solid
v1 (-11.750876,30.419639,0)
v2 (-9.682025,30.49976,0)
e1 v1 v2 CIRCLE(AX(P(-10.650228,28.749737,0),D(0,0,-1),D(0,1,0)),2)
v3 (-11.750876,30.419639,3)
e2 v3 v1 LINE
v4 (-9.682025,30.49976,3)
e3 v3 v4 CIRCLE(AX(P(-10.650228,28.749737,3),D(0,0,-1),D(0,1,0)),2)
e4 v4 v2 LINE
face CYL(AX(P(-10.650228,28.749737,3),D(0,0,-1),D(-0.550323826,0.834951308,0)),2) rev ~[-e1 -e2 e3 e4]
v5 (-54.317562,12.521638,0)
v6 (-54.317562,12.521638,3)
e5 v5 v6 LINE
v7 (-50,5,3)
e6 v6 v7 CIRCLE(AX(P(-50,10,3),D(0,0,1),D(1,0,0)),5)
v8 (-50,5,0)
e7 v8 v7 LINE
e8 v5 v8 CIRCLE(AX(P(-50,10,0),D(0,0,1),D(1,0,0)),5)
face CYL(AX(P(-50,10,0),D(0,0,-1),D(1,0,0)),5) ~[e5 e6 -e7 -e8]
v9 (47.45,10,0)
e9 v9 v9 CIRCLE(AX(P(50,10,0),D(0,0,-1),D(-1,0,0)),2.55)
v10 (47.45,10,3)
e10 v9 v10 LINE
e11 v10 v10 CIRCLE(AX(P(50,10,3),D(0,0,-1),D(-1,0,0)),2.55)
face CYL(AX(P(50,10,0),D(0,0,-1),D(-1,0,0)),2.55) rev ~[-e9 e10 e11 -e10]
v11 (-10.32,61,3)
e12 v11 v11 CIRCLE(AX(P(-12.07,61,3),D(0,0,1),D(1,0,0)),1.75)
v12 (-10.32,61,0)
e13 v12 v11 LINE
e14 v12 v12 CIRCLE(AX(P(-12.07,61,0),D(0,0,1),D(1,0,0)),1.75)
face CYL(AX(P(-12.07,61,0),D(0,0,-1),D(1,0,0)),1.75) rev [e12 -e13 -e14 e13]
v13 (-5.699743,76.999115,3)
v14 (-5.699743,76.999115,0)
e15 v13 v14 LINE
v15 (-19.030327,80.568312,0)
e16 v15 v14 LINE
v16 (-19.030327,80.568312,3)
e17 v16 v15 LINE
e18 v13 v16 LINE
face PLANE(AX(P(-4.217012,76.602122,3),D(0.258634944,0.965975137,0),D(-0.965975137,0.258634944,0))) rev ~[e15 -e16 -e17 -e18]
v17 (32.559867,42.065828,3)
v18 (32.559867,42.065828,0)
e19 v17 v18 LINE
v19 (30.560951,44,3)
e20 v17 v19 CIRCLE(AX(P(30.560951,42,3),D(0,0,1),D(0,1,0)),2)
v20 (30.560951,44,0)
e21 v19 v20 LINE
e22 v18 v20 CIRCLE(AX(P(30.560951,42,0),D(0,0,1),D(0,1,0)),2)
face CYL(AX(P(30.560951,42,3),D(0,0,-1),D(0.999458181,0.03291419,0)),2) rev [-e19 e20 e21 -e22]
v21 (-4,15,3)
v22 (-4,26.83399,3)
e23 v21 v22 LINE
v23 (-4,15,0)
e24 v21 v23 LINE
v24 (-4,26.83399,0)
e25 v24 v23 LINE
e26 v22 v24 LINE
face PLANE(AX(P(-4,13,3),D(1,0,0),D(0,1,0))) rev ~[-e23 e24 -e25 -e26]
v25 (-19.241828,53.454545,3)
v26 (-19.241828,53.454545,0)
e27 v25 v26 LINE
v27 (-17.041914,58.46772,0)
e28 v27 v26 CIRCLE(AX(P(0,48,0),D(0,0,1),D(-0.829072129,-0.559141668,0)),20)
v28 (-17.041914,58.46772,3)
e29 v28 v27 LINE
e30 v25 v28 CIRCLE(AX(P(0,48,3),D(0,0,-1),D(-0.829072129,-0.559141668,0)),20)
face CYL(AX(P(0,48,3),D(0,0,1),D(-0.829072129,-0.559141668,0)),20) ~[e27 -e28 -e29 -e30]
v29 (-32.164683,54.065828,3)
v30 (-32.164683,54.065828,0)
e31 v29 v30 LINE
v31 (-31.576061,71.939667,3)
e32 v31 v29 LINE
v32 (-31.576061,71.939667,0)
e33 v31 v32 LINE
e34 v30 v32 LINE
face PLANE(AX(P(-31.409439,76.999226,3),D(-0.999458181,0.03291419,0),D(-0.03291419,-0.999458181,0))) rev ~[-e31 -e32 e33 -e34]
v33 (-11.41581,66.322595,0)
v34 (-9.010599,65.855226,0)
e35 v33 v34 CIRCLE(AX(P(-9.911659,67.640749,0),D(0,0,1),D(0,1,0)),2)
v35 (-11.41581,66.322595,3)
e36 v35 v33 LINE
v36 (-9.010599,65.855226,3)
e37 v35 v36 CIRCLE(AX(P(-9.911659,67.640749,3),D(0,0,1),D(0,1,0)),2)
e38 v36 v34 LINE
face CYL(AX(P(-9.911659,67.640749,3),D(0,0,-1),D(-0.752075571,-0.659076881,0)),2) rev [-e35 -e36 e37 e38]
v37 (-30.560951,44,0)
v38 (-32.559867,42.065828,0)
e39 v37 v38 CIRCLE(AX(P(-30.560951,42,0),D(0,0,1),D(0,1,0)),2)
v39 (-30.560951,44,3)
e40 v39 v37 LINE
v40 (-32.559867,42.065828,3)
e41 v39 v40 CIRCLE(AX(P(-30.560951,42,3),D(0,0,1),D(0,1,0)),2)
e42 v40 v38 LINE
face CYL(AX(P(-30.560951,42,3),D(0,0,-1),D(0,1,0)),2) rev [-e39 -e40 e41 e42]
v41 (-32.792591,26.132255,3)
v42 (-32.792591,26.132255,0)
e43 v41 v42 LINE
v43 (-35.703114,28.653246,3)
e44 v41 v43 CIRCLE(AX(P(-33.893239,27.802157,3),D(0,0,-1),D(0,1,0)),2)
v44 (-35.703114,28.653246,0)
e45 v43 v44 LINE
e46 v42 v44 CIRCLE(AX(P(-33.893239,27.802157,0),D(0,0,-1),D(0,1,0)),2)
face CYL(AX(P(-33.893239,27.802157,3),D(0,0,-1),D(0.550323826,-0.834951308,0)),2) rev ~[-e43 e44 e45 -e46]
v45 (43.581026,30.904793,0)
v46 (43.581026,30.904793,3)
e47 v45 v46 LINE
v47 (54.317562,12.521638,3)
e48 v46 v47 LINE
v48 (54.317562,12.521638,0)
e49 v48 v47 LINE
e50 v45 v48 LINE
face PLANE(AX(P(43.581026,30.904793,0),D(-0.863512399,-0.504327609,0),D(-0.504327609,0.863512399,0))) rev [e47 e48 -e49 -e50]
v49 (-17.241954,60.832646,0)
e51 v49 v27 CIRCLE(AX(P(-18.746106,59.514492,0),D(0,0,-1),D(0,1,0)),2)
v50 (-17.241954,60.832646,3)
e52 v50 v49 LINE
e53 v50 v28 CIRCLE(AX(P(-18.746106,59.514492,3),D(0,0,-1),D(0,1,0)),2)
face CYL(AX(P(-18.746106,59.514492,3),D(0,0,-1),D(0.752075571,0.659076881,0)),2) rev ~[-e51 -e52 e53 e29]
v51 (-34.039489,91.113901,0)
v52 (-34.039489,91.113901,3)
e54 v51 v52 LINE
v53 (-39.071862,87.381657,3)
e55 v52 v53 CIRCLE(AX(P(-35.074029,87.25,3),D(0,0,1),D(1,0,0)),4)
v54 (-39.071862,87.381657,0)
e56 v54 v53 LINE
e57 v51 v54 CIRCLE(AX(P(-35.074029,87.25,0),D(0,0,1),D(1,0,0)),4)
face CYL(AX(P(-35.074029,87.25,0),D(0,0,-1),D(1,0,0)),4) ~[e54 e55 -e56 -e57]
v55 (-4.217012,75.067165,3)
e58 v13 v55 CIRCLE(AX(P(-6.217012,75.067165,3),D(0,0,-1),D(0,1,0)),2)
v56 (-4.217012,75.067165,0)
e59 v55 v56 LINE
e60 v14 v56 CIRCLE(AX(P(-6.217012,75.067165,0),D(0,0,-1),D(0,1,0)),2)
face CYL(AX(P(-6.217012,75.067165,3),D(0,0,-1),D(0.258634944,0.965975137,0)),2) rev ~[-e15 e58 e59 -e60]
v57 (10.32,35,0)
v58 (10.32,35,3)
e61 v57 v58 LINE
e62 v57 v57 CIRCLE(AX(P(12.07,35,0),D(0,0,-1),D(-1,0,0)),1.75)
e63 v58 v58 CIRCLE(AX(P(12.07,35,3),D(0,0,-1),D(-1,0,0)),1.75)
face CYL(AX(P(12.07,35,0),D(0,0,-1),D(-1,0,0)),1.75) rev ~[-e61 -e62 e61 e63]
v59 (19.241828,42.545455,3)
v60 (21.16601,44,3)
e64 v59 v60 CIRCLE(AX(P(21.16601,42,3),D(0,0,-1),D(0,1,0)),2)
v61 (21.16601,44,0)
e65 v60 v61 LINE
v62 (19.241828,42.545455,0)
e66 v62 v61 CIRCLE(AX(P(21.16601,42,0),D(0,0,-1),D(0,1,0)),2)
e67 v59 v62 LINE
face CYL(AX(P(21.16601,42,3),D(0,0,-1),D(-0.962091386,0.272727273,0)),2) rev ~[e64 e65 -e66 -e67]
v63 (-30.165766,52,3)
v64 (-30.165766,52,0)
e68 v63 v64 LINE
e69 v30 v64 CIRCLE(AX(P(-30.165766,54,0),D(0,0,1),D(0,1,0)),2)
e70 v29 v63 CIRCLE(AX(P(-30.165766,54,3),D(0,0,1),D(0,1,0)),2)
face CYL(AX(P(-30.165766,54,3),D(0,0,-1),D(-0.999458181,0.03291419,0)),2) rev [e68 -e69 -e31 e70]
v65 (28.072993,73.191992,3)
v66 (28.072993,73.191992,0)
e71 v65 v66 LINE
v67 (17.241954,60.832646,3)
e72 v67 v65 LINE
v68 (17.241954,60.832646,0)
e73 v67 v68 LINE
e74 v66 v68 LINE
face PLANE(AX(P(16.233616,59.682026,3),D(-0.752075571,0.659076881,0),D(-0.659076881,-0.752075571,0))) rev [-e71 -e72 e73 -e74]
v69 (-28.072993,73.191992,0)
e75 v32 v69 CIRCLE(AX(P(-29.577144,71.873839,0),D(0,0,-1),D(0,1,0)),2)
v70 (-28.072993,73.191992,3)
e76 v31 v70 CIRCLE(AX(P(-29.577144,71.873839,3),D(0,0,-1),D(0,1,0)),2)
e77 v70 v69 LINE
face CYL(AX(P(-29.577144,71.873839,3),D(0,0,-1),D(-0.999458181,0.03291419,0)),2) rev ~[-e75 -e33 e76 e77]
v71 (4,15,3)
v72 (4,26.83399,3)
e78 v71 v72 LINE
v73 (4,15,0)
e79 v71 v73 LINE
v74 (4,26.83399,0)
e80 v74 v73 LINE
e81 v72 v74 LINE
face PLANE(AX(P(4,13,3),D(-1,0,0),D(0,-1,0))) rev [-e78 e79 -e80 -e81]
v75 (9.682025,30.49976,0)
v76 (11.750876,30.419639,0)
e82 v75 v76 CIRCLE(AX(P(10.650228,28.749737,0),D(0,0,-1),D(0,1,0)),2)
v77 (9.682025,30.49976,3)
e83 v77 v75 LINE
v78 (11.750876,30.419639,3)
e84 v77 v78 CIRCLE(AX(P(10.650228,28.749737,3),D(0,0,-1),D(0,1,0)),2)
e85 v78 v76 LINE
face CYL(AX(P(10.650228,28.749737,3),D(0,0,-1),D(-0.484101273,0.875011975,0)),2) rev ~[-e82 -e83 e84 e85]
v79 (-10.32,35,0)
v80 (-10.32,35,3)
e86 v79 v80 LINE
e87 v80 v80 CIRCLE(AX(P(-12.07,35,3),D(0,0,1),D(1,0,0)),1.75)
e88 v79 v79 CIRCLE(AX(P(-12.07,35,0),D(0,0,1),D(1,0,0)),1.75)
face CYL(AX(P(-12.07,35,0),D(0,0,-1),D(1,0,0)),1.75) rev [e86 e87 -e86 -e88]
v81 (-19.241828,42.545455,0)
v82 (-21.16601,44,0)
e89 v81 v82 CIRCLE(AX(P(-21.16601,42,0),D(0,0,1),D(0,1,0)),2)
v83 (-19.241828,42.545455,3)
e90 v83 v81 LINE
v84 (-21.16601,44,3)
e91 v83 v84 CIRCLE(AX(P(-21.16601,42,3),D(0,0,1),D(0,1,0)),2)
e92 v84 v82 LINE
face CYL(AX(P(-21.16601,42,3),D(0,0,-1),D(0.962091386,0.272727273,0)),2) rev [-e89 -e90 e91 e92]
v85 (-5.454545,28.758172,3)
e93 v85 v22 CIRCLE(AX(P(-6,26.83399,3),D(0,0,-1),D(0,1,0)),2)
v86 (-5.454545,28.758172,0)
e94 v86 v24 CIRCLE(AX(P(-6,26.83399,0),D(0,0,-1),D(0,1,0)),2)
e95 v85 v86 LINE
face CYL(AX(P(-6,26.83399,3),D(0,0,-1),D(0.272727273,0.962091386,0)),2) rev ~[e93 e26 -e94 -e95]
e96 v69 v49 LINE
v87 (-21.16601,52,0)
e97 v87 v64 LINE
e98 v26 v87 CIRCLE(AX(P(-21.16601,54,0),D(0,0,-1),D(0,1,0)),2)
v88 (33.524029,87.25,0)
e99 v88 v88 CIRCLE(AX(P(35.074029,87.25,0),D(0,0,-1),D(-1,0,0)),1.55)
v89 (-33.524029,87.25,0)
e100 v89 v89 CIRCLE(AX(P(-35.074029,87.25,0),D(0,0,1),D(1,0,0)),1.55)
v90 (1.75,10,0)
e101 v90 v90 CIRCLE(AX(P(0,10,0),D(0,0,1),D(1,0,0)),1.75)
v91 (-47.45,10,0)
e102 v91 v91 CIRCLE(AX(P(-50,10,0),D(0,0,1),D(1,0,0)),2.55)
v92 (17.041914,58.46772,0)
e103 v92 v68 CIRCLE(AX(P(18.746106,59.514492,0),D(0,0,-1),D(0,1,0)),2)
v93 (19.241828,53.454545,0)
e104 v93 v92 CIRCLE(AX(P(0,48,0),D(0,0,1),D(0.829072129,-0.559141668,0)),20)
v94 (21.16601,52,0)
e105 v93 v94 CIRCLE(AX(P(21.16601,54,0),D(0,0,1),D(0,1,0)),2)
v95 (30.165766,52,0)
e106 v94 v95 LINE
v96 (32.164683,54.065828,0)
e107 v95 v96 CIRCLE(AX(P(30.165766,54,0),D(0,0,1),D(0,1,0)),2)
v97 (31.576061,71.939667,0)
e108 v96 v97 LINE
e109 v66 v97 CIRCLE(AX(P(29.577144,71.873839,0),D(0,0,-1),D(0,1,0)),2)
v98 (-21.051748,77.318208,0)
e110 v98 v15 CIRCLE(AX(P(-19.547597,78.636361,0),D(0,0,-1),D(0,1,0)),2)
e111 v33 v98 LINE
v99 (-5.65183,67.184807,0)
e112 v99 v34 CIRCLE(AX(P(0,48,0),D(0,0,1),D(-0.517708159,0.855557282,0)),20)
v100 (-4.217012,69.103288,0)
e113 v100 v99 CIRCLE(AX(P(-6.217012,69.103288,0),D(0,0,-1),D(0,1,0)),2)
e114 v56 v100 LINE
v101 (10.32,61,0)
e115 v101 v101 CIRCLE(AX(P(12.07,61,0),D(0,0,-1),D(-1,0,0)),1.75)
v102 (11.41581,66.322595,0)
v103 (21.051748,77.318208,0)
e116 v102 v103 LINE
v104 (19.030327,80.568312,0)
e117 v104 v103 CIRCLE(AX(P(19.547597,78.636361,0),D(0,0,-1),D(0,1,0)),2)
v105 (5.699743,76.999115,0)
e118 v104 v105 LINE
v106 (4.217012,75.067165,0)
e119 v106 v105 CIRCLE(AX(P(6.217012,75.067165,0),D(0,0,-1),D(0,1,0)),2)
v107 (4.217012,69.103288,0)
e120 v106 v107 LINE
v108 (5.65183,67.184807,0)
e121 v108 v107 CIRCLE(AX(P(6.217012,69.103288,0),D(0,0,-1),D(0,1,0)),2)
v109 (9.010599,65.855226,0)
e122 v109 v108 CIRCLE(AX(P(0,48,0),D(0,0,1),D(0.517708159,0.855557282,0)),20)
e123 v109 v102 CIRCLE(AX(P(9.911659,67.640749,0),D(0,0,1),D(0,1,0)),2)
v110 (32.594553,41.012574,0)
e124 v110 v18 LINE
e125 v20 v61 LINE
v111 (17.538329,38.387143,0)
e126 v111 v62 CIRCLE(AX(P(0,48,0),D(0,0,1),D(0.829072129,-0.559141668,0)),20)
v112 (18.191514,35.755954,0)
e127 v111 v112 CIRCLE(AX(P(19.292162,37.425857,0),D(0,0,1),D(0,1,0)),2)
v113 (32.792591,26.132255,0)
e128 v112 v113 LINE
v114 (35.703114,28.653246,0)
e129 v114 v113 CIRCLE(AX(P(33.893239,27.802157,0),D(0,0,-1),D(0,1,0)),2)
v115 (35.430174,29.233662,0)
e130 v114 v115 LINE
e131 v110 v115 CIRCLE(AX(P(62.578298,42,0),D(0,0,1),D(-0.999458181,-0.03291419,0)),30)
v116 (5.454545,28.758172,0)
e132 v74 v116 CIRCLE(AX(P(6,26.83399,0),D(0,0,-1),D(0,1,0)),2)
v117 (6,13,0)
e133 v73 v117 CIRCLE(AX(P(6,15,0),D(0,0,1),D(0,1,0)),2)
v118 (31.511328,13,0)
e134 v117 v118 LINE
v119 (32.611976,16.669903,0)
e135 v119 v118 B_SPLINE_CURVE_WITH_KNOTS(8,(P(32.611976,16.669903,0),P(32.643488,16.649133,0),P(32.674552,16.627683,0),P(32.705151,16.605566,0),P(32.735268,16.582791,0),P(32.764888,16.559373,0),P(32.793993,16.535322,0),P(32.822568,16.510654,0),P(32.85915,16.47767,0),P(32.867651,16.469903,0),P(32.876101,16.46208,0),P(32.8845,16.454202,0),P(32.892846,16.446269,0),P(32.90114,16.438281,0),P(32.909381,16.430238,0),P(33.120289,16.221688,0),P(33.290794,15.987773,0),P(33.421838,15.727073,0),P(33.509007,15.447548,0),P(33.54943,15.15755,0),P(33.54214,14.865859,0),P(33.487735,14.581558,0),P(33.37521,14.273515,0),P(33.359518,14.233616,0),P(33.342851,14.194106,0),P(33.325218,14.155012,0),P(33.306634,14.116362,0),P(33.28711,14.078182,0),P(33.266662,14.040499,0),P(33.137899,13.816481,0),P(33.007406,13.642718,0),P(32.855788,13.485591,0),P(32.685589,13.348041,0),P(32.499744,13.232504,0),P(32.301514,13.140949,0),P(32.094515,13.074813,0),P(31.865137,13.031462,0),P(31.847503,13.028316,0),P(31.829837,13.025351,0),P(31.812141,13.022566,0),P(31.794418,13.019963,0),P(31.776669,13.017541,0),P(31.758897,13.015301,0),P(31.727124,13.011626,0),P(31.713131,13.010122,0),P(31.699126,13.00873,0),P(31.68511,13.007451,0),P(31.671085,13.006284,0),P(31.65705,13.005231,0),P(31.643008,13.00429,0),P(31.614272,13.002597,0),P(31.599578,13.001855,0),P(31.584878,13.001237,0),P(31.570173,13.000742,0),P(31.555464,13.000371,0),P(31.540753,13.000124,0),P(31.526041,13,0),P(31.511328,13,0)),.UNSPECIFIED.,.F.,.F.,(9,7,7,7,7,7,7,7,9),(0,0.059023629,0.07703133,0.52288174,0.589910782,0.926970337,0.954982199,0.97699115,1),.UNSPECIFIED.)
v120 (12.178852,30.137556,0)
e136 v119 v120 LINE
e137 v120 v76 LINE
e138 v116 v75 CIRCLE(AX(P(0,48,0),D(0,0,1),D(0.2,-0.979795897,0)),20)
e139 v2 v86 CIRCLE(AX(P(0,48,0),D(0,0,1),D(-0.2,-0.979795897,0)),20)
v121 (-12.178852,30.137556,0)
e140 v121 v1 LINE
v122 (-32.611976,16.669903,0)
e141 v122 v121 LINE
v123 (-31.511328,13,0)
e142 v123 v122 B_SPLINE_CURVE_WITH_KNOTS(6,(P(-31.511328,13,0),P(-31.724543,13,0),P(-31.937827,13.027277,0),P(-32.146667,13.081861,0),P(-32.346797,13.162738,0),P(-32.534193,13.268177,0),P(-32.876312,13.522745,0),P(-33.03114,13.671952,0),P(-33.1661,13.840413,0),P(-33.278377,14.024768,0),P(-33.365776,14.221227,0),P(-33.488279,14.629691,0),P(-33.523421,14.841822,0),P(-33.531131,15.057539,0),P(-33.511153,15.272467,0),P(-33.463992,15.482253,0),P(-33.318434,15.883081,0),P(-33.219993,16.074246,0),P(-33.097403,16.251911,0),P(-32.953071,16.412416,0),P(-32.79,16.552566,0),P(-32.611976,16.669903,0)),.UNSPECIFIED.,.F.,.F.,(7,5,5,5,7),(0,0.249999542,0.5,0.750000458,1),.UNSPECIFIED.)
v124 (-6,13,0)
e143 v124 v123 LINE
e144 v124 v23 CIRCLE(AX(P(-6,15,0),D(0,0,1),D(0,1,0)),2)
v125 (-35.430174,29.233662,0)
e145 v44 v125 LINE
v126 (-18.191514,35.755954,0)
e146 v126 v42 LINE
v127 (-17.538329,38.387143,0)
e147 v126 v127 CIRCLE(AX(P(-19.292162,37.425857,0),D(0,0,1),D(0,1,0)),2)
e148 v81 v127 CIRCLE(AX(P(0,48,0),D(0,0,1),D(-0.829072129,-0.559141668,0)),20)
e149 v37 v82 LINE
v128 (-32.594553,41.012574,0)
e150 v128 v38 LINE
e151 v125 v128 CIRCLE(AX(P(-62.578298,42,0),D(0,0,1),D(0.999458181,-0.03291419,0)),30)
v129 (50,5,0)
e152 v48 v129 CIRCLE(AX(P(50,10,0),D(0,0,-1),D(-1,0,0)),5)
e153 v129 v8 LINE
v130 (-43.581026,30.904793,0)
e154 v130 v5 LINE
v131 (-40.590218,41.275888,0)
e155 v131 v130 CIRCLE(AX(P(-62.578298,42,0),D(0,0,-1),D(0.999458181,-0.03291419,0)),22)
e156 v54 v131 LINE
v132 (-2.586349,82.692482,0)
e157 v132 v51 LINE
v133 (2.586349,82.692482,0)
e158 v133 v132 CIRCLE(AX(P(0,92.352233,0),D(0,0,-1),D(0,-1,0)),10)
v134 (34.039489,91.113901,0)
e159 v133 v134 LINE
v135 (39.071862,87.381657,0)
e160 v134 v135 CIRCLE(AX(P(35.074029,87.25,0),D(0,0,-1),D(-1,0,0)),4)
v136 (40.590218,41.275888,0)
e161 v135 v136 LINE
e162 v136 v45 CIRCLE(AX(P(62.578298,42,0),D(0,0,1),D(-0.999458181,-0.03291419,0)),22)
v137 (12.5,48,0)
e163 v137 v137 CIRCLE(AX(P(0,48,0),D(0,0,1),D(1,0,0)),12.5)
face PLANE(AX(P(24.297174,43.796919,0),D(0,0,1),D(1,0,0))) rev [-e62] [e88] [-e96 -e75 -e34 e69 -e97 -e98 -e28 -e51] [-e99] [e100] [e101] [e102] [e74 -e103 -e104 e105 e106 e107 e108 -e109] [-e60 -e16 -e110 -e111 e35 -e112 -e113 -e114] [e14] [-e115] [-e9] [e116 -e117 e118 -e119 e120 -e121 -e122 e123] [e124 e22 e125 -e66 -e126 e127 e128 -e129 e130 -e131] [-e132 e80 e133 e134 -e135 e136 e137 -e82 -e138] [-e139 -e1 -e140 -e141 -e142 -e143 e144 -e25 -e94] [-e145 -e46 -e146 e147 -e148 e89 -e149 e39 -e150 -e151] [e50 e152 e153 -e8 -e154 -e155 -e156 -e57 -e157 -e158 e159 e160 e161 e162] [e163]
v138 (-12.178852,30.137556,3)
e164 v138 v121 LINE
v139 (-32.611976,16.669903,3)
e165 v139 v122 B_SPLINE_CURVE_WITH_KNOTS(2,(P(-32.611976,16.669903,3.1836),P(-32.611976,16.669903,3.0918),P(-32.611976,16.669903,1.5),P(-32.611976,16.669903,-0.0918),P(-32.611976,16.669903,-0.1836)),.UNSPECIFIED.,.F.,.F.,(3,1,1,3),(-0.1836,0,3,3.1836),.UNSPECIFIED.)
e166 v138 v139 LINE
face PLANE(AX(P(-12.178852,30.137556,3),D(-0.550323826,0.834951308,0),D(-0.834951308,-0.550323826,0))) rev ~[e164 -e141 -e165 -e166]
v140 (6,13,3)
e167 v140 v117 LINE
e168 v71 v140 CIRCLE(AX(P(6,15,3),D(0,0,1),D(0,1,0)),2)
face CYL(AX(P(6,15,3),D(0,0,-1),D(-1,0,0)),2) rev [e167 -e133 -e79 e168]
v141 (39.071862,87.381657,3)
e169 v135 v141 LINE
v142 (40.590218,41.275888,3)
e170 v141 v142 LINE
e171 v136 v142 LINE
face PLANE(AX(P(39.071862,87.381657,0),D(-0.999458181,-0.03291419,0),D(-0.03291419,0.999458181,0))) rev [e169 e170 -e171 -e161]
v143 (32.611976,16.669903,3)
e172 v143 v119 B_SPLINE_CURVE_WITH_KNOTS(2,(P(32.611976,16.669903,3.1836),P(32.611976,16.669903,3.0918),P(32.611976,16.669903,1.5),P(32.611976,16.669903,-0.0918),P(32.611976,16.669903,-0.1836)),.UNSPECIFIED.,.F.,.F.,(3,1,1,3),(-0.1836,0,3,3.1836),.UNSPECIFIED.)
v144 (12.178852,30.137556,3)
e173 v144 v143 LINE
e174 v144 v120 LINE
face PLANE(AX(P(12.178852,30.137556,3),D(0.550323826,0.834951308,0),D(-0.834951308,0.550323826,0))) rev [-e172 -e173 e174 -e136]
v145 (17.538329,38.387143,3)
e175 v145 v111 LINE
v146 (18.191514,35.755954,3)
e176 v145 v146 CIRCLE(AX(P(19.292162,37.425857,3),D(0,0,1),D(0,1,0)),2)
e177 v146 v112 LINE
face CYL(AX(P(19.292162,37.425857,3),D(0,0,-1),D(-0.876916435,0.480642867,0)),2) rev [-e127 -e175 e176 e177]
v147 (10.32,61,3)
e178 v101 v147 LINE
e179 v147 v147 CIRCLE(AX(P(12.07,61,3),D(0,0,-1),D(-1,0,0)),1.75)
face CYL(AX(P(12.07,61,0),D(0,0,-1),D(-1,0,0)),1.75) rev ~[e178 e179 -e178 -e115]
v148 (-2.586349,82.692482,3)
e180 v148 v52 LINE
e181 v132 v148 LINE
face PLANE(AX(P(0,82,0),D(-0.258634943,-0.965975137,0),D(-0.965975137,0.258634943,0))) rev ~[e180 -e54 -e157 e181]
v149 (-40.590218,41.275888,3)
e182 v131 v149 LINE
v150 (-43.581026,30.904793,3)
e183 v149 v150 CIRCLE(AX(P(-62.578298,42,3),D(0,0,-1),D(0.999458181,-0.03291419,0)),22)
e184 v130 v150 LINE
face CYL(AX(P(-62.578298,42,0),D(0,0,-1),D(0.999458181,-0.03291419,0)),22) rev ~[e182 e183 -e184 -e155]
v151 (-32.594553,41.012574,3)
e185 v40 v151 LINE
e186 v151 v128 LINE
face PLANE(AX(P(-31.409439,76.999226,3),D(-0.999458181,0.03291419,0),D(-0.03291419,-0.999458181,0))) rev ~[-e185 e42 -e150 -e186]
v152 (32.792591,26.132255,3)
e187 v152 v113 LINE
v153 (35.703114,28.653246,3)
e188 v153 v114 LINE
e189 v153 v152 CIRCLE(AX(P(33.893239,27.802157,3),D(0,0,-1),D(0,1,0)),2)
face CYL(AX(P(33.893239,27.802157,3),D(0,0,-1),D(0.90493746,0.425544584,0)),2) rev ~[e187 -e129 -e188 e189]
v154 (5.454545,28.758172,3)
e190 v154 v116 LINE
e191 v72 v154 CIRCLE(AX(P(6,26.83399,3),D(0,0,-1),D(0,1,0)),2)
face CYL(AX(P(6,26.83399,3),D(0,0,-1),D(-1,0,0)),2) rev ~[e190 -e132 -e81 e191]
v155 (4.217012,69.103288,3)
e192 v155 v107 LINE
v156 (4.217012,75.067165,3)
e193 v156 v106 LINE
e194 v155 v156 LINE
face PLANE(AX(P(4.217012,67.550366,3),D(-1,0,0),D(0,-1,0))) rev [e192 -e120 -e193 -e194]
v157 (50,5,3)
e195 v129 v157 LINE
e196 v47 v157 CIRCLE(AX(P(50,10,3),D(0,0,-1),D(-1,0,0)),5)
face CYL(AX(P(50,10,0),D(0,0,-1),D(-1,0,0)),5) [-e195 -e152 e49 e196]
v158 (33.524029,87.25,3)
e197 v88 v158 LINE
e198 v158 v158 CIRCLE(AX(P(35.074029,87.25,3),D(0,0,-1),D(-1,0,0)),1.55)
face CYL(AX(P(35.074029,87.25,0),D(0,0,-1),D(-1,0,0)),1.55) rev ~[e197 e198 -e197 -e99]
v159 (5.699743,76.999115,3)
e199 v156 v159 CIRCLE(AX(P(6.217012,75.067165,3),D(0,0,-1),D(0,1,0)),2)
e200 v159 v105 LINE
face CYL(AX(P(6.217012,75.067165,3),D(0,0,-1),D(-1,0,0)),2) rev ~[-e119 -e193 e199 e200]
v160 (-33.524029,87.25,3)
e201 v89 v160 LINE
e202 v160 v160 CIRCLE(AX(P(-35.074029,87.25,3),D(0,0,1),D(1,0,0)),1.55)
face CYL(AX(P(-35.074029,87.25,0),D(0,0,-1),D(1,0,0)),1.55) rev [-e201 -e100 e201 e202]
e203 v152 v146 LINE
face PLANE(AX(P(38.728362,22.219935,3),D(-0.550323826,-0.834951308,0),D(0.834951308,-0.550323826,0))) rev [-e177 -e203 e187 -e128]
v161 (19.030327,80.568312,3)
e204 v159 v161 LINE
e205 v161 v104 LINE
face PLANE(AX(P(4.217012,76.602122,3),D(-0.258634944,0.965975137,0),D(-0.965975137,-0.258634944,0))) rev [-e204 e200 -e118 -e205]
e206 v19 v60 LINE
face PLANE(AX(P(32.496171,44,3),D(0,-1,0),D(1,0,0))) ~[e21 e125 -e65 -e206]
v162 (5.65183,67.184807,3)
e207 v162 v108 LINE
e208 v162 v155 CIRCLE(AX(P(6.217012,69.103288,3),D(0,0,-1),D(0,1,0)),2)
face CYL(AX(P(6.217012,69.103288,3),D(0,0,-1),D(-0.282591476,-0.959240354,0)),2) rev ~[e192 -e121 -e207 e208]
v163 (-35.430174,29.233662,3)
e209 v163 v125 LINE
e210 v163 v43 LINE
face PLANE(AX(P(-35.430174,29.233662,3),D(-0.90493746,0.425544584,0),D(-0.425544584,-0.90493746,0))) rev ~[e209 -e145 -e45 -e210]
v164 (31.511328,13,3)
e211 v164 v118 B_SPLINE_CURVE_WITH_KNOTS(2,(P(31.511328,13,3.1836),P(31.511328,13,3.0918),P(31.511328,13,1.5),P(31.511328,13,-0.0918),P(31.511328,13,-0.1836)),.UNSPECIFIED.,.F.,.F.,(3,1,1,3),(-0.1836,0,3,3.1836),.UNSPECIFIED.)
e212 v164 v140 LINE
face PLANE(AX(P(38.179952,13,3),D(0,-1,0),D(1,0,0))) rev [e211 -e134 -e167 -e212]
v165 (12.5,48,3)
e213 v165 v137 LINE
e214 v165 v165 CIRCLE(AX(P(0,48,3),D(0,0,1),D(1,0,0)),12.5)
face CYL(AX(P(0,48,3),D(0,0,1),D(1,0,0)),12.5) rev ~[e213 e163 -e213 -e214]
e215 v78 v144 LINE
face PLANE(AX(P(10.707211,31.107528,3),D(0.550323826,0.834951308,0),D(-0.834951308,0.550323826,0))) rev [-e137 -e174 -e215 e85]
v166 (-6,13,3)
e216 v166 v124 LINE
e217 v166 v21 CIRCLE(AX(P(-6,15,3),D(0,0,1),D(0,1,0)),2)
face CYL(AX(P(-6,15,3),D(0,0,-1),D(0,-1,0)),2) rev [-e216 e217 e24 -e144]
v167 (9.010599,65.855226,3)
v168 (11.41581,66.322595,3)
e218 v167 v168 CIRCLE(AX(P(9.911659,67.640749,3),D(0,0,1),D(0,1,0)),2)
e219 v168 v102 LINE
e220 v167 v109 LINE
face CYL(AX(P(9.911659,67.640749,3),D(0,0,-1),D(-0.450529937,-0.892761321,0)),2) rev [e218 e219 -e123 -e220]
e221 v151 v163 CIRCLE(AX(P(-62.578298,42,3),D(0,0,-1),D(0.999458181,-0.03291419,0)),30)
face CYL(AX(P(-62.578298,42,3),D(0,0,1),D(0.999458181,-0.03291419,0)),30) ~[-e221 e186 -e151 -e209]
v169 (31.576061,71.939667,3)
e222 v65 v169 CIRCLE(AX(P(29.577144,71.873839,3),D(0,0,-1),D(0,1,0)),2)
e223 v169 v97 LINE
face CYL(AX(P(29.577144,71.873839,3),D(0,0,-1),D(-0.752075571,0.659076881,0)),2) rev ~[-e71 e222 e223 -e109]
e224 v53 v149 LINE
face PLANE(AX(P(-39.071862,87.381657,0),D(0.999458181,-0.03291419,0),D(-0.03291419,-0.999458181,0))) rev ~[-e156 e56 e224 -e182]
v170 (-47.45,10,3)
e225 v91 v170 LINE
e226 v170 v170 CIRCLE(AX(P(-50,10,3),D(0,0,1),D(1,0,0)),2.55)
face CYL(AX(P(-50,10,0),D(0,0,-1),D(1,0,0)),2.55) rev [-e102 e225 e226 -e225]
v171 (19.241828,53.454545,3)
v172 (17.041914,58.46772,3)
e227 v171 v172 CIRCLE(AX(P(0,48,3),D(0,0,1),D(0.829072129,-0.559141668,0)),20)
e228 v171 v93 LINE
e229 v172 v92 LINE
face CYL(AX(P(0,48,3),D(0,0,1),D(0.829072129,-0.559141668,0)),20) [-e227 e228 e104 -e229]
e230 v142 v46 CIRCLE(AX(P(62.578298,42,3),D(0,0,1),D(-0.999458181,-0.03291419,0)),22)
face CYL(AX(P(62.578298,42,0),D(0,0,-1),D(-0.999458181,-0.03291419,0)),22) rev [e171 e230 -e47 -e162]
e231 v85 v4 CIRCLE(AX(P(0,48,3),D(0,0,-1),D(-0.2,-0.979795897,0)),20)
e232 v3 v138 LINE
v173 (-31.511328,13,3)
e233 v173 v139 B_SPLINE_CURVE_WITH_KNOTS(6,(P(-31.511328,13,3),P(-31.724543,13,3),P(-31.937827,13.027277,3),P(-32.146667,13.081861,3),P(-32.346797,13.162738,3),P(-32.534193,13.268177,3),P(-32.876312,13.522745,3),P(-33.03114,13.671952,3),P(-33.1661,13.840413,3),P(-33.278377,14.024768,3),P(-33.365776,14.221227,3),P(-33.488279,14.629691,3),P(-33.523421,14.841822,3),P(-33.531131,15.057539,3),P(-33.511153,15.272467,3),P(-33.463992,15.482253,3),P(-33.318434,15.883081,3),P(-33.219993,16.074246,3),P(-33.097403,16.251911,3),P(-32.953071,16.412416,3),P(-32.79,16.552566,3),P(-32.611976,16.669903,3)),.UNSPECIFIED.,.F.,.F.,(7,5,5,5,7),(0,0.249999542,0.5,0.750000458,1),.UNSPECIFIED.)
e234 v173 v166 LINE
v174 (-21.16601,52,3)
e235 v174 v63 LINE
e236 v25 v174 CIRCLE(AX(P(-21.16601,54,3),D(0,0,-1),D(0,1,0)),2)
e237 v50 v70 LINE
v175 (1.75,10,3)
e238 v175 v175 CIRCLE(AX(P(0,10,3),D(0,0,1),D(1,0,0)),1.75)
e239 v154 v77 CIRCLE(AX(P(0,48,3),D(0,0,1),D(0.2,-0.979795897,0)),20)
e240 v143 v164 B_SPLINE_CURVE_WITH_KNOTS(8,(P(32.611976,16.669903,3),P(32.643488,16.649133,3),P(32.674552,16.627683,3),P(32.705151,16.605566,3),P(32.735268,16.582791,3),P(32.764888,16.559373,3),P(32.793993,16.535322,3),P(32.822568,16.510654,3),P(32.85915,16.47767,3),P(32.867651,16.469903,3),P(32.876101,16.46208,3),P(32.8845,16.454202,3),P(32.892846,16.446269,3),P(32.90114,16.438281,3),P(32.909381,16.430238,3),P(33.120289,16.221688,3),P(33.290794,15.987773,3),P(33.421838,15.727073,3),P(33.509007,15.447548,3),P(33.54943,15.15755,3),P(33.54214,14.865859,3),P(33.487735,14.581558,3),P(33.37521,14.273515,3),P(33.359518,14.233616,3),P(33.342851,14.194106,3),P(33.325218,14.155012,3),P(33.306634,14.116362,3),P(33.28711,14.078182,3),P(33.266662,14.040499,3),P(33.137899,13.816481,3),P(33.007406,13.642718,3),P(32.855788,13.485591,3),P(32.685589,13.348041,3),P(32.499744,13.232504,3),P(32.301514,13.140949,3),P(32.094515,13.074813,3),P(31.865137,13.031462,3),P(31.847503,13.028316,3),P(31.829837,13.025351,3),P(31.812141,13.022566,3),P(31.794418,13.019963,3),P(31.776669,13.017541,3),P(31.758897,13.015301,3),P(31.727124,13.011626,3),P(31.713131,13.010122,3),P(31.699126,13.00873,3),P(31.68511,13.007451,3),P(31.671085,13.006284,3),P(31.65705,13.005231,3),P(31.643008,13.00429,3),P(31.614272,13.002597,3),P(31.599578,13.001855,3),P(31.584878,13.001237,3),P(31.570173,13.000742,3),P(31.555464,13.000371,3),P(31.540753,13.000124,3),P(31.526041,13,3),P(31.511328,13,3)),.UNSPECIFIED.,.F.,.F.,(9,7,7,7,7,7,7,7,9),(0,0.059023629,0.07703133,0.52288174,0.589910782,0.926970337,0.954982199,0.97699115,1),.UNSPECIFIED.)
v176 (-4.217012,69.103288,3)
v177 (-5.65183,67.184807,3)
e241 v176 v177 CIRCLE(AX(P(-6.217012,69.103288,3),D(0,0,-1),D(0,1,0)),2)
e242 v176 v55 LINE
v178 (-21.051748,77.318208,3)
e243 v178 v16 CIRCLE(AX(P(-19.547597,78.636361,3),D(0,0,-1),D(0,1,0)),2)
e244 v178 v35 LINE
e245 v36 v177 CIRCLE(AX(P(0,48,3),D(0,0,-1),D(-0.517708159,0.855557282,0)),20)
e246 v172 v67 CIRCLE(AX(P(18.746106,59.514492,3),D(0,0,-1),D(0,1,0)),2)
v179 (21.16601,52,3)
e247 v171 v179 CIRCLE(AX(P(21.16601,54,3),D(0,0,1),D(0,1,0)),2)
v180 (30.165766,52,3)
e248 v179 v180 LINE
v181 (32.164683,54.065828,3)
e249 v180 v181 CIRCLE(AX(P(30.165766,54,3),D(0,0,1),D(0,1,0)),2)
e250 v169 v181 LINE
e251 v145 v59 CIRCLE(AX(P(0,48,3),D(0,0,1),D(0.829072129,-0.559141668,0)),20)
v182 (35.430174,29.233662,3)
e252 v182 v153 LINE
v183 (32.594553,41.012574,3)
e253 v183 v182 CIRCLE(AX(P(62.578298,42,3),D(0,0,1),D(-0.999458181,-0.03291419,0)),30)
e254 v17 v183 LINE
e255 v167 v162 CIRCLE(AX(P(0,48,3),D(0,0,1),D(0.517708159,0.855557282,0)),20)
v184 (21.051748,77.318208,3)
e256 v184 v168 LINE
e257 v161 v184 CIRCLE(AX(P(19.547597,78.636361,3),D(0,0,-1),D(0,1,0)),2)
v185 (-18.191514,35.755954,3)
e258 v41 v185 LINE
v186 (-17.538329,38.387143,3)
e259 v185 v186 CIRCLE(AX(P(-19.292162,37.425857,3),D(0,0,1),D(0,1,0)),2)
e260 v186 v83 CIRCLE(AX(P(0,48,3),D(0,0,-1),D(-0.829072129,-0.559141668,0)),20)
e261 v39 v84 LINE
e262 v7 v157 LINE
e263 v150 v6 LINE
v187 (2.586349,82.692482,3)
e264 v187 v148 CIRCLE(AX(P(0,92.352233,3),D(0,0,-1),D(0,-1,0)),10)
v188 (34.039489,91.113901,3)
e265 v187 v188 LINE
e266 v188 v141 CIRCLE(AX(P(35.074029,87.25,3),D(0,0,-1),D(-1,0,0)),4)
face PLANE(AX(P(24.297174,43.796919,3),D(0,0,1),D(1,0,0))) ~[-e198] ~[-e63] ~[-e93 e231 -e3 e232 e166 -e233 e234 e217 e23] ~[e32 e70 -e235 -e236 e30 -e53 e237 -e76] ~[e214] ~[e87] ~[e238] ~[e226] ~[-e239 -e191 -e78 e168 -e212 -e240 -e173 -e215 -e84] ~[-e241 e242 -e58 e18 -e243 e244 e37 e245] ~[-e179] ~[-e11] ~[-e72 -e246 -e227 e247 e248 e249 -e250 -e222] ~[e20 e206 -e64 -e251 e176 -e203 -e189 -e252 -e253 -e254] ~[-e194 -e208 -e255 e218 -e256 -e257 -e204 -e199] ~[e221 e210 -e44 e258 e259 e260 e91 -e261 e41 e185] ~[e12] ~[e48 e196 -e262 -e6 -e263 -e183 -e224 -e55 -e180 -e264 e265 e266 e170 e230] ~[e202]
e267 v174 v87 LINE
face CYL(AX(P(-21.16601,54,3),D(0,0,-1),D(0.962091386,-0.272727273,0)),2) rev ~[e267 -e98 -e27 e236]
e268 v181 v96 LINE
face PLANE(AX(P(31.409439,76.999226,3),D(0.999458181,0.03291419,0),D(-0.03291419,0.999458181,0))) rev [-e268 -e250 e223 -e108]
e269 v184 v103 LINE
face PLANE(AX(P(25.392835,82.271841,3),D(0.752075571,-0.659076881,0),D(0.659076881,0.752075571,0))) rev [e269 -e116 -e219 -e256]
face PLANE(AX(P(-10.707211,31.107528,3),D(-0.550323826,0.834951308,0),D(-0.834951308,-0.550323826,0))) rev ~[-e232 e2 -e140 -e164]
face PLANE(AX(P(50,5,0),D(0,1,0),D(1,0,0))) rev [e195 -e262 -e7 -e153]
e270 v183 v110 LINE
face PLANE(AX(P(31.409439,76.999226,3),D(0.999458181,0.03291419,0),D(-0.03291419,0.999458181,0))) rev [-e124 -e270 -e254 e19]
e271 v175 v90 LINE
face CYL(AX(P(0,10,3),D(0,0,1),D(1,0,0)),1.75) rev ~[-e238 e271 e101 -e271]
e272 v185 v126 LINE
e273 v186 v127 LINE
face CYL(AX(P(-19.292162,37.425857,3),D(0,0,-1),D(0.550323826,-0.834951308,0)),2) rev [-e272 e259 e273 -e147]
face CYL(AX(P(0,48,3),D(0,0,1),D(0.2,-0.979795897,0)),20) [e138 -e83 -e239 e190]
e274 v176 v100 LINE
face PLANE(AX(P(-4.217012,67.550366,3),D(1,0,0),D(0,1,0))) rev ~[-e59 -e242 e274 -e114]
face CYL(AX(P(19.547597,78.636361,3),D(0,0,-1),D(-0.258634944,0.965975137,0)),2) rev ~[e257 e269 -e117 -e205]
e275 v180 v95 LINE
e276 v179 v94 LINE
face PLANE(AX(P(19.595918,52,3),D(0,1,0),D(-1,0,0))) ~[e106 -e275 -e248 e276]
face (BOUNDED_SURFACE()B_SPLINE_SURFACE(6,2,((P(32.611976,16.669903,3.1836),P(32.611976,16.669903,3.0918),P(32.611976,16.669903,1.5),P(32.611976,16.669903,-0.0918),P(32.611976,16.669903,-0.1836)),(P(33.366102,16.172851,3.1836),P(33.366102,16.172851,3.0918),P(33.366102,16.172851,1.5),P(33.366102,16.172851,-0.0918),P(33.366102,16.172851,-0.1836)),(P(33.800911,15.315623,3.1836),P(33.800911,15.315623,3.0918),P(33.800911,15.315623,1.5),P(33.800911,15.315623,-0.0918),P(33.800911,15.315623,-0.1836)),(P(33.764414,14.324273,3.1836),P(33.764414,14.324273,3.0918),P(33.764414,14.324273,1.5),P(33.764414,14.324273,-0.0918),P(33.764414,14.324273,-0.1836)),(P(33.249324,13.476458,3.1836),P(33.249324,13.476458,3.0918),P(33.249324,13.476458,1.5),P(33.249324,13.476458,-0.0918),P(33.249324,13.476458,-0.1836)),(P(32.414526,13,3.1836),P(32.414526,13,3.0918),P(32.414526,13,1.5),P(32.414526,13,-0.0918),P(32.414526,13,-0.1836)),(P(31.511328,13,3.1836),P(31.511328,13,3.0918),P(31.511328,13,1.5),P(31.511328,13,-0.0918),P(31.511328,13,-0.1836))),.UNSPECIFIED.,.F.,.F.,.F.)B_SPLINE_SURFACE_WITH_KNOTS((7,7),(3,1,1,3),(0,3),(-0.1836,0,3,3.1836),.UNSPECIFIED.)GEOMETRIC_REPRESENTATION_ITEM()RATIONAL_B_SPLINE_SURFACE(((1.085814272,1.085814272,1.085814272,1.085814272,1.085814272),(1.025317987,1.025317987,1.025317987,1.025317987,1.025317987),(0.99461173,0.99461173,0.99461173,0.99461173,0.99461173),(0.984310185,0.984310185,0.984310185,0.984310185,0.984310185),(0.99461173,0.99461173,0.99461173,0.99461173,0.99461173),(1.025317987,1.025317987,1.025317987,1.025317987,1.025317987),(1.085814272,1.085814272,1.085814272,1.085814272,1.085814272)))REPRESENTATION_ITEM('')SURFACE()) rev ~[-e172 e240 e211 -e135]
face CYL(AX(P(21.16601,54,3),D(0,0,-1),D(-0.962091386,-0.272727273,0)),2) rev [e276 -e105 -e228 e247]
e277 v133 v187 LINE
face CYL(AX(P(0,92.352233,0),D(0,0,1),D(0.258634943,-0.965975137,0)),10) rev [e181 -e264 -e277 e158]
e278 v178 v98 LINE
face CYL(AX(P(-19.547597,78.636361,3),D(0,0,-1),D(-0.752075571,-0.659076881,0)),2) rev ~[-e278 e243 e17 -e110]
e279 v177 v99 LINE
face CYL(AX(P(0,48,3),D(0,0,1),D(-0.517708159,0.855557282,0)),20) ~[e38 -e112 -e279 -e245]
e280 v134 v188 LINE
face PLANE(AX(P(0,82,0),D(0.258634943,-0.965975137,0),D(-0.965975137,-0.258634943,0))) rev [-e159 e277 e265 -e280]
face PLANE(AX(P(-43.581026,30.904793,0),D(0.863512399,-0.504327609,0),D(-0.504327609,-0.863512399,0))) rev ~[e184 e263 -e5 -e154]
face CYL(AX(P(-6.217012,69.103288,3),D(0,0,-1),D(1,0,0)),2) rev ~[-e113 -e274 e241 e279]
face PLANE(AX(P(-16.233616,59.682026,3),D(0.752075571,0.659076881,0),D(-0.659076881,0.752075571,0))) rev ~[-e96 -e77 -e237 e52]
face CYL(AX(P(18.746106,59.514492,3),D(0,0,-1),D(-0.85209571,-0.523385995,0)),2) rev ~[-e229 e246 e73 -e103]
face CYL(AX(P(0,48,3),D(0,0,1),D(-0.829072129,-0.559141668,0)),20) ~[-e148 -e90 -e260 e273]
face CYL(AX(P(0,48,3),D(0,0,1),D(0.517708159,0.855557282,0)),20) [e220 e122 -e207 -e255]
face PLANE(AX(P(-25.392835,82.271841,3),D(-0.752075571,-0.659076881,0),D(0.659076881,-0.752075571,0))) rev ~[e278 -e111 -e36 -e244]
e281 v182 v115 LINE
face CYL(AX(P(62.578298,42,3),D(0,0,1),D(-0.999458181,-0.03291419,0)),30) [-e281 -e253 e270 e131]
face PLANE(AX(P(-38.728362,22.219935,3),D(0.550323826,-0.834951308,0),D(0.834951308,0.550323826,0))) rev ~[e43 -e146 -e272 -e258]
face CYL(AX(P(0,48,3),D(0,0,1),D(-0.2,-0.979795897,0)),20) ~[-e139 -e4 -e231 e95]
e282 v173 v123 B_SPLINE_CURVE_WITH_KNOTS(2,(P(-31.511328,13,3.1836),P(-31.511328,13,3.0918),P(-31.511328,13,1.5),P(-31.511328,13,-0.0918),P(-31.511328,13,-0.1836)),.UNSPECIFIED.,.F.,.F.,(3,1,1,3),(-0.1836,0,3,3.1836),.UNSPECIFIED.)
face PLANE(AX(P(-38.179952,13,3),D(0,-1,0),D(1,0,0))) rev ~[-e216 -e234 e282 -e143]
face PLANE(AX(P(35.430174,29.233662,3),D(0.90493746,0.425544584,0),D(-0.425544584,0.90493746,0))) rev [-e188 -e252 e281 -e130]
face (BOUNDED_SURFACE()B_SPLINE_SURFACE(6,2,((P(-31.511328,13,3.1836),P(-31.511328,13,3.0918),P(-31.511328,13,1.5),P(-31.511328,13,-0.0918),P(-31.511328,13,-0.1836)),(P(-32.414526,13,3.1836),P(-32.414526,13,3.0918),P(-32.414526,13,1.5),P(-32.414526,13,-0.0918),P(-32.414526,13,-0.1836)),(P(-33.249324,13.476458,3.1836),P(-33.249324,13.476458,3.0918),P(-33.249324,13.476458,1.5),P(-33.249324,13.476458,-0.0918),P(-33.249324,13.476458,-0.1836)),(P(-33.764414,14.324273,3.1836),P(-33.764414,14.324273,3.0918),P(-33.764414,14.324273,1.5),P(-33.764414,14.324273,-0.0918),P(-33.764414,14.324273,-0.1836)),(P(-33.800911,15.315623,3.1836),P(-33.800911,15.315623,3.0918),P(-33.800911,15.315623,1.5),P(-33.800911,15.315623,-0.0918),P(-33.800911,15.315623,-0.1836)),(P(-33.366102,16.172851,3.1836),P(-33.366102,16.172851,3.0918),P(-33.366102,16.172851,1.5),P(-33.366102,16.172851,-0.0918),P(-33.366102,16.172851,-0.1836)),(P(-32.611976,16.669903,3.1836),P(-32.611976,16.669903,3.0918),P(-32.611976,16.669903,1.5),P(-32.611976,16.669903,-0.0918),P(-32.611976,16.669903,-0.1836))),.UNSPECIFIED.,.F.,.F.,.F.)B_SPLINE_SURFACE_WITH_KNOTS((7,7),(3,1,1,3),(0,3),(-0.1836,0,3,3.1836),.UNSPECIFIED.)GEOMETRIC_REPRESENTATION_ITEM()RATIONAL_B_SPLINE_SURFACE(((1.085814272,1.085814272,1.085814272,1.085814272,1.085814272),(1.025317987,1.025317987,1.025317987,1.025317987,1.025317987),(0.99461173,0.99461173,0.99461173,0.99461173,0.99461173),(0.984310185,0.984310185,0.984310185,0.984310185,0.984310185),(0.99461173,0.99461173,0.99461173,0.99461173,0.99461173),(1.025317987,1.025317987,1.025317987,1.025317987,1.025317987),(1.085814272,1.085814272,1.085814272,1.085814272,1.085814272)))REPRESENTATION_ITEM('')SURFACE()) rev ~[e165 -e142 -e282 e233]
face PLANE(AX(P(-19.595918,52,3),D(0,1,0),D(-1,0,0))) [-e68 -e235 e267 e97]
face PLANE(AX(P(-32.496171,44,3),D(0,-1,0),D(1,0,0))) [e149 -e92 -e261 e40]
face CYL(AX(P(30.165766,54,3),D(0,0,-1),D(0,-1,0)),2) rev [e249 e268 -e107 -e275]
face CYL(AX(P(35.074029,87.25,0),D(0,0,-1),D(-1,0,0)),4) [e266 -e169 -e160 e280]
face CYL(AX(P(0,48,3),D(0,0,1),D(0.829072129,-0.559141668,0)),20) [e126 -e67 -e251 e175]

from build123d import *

# Parameters (mm, degrees)
SKETCH_1_R             = 1.75
SKETCH_1_R_2           = 4
SKETCH_1_R_3           = 1.55
SKETCH_1_R_4           = 5
SKETCH_1_R_5           = 2.55
EXTRUDE_1_DEPTH        = 3
FILLET_1_R             = 10
SKETCH_2_R             = 1.75
CUT_EXTRUDE_1_DEPTH    = 3
CUT_EXTRUDE_2_DEPTH    = 10
FILLET_2_R             = 2
FILLET_2_OF_MIRROR_2_R = 2
SKETCH_5_R             = 12.5
CUT_EXTRUDE_3_DEPTH    = 10
EXTRUDE_2_DEPTH        = 3
FILLET_3_R             = 2
FILLET_4_R             = 2


with BuildPart() as part:
    # 草图1 → 凸台-拉伸1 (new body)
    # profile 1 of 3: a face of its own
    with BuildSketch(Plane.XY):
        with BuildLine():
            ThreePointArc((-31.074028853, 87.25), (-35.139866152, 83.250541855), (-39.071861578, 87.38165676))
            Line((-39.071861578, 87.38165676), (-40.590218292, 41.27588782))
            ThreePointArc((-40.590218292, 41.27588782), (-41.439715326, 35.904074252), (-43.581025503, 30.904792609))
            Line((-43.581025503, 30.904792609), (-54.317561995, 12.521638043))
            ThreePointArc((-54.317561995, 12.521638043), (-48.693824279, 14.826375968), (-45, 10))
            ThreePointArc((-45, 10), (-46.464466094, 6.464466094), (-50, 5))
            Line((-50, 5), (0, 5))
            Line((0, 5), (0, 82))
            Line((0, 82), (-34.039489079, 91.113900549))
            ThreePointArc((-34.039489079, 91.113900549), (-31.900847556, 89.685348117), (-31.074028853, 87.25))
        make_face()
        with Locations((-12.07, 35)):
            Circle(SKETCH_1_R, mode=Mode.SUBTRACT)
        with Locations((-12.07, 61)):
            Circle(SKETCH_1_R, mode=Mode.SUBTRACT)
    # profile 2 of 3: a face of its own
    with BuildSketch(Plane.XY):
        with Locations((-35.074028853, 87.25)):
            Circle(SKETCH_1_R_2)
        with Locations((-35.074028853, 87.25)):
            Circle(SKETCH_1_R_3, mode=Mode.SUBTRACT)
    # profile 3 of 3: a face of its own
    with BuildSketch(Plane.XY):
        with Locations((-50, 10)):
            Circle(SKETCH_1_R_4)
        with Locations((-50, 10)):
            Circle(SKETCH_1_R_5, mode=Mode.SUBTRACT)
    extrude_1 = extrude(amount=EXTRUDE_1_DEPTH)

    # 镜向1: 凸台-拉伸1 across plane
    add(extrude_1.mirror(Plane(origin=(0, 0, 3), x_dir=(0, 0, 1), z_dir=(-1, 0, 0))))

    # 圆角1
    fillet_1_edges = [part.edges().sort_by_distance(p)[0] for p in [
        (0, 82, 1.5),
    ]]
    fillet(fillet_1_edges, radius=FILLET_1_R)

    # 草图2 → 切除-拉伸1 (cut)
    with BuildSketch(Plane.XY.offset(3)):
        with Locations((0, 10)):
            Circle(SKETCH_2_R)
    extrude(amount=-CUT_EXTRUDE_1_DEPTH, mode=Mode.SUBTRACT)

    # 草图4 → 切除-拉伸2 (cut)
    with BuildSketch(Plane.XY.offset(3)):
        with BuildLine():
            ThreePointArc((-10.354163178, 65.111145633), (-7.386964112, 66.58582151), (-4.21701247, 67.550365875))
            Line((-4.21701247, 67.550365875), (-4.21701247, 76.60212181))
            Line((-4.21701247, 76.60212181), (-25.392834673, 82.271840799))
            Line((-25.392834673, 82.271840799), (-10.354163178, 65.111145633))
        make_face()
        with BuildLine():
            ThreePointArc((-16.581442579, 36.817166638), (-19.997686263, 48.304210684), (-16.233615619, 59.682025678))
            Line((-16.233615619, 59.682025678), (-31.409439241, 76.999225749))
            Line((-31.409439241, 76.999225749), (-32.594552841, 41.0125743))
            ThreePointArc((-32.594552841, 41.0125743), (-33.411565317, 34.978483904), (-35.430174477, 29.233662466))
            Line((-35.430174477, 29.233662466), (-38.728362293, 22.219935083))
            Line((-38.728362293, 22.219935083), (-16.581442579, 36.817166638))
        make_face()
        with BuildLine():
            Line((-4, 13), (-4, 28.404082058))
            ThreePointArc((-4, 28.404082058), (-7.476808875, 29.45013938), (-10.707211367, 31.107527572))
            Line((-10.707211367, 31.107527572), (-12.178851974, 30.137556172))
            Line((-12.178851974, 30.137556172), (-34.325771688, 15.540324618))
            Line((-34.325771688, 15.540324618), (-38.179952199, 13))
            Line((-38.179952199, 13), (-4, 13))
        make_face()
    cut_extrude_2 = extrude(amount=-CUT_EXTRUDE_2_DEPTH, mode=Mode.SUBTRACT)

    # 圆角2
    fillet_2_edges = [part.edges().sort_by_distance(p)[0] for p in [
        (-31.409439241, 76.999225749, 1.5),
        (-16.233615619, 59.682025678, 1.5),
        (-16.581442579, 36.817166638, 1.5),
        (-38.728362293, 22.219935083, 1.5),
        (-10.707211367, 31.107527572, 1.5),
        (-4, 28.404082058, 1.5),
        (-4, 13, 1.5),
        (-38.179952199, 13, 1.5),
        (-4.21701247, 67.550365875, 1.5),
        (-10.354163178, 65.111145633, 1.5),
        (-25.392834673, 82.271840799, 1.5),
        (-4.21701247, 76.60212181, 1.5),
    ]]
    fillet(fillet_2_edges, radius=FILLET_2_R)

    # 镜向2: 切除-拉伸2 across plane
    add(cut_extrude_2.mirror(Plane(origin=(0, 0, 0), x_dir=(0, 0, 1), z_dir=(1, 0, 0))), mode=Mode.SUBTRACT)

    # 圆角2 of 镜向2
    fillet_2_of_mirror_2_edges = [part.edges().sort_by_distance(p)[0] for p in [
        (31.409439241, 76.999225749, 1.5),
        (16.233615619, 59.682025678, 1.5),
        (16.581442579, 36.817166638, 1.5),
        (38.728362293, 22.219935083, 1.5),
        (10.707211367, 31.107527572, 1.5),
        (4, 28.404082058, 1.5),
        (4, 13, 1.5),
        (38.179952199, 13, 1.5),
        (4.21701247, 67.550365875, 1.5),
        (10.354163178, 65.111145633, 1.5),
        (25.392834673, 82.271840799, 1.5),
        (4.21701247, 76.60212181, 1.5),
    ]]
    fillet(fillet_2_of_mirror_2_edges, radius=FILLET_2_OF_MIRROR_2_R)

    # 草图5 → 切除-拉伸3 (cut)
    with BuildSketch(Plane.XY.offset(3)):
        with Locations((0, 48)):
            Circle(SKETCH_5_R)
    extrude(amount=-CUT_EXTRUDE_3_DEPTH, mode=Mode.SUBTRACT)

    # 草图6 → 凸台-拉伸2 (add)
    with BuildSketch(Plane.XY.offset(3)):
        with BuildLine():
            Line((-32.364442706, 48), (-20, 48))
            ThreePointArc((-20, 48), (-19.89872306, 50.01017924), (-19.595917942, 52))
            Line((-19.595917942, 52), (-32.232714574, 52))
            Line((-32.232714574, 52), (-32.364442706, 48))
        make_face()
        with BuildLine():
            ThreePointArc((-19.595917942, 44), (-19.89872306, 45.98982076), (-20, 48))
            Line((-20, 48), (-32.364442706, 48))
            Line((-32.364442706, 48), (-32.496170839, 44))
            Line((-32.496170839, 44), (-19.595917942, 44))
        make_face()
    extrude_2 = extrude(amount=-EXTRUDE_2_DEPTH)

    # 镜向3: 凸台-拉伸2 across plane
    add(extrude_2.mirror(Plane(origin=(0, 0, 0), x_dir=(0, 0, 1), z_dir=(1, 0, 0))))

    # 圆角3
    fillet_3_edges = [part.edges().sort_by_distance(p)[0] for p in [
        (-19.595917942, 52, 1.5),
        (-19.595917942, 44, 1.5),
        (-32.496170839, 44, 1.5),
        (-32.232714574, 52, 1.5),
    ]]
    fillet(fillet_3_edges, radius=FILLET_3_R)

    # 圆角4
    fillet_4_edges = [part.edges().sort_by_distance(p)[0] for p in [
        (19.595917942, 44, 1.5),
        (19.595917942, 52, 1.5),
        (32.232714574, 52, 1.5),
        (32.496170839, 44, 1.5),
    ]]
    fillet(fillet_4_edges, radius=FILLET_4_R)


solid = part.part
